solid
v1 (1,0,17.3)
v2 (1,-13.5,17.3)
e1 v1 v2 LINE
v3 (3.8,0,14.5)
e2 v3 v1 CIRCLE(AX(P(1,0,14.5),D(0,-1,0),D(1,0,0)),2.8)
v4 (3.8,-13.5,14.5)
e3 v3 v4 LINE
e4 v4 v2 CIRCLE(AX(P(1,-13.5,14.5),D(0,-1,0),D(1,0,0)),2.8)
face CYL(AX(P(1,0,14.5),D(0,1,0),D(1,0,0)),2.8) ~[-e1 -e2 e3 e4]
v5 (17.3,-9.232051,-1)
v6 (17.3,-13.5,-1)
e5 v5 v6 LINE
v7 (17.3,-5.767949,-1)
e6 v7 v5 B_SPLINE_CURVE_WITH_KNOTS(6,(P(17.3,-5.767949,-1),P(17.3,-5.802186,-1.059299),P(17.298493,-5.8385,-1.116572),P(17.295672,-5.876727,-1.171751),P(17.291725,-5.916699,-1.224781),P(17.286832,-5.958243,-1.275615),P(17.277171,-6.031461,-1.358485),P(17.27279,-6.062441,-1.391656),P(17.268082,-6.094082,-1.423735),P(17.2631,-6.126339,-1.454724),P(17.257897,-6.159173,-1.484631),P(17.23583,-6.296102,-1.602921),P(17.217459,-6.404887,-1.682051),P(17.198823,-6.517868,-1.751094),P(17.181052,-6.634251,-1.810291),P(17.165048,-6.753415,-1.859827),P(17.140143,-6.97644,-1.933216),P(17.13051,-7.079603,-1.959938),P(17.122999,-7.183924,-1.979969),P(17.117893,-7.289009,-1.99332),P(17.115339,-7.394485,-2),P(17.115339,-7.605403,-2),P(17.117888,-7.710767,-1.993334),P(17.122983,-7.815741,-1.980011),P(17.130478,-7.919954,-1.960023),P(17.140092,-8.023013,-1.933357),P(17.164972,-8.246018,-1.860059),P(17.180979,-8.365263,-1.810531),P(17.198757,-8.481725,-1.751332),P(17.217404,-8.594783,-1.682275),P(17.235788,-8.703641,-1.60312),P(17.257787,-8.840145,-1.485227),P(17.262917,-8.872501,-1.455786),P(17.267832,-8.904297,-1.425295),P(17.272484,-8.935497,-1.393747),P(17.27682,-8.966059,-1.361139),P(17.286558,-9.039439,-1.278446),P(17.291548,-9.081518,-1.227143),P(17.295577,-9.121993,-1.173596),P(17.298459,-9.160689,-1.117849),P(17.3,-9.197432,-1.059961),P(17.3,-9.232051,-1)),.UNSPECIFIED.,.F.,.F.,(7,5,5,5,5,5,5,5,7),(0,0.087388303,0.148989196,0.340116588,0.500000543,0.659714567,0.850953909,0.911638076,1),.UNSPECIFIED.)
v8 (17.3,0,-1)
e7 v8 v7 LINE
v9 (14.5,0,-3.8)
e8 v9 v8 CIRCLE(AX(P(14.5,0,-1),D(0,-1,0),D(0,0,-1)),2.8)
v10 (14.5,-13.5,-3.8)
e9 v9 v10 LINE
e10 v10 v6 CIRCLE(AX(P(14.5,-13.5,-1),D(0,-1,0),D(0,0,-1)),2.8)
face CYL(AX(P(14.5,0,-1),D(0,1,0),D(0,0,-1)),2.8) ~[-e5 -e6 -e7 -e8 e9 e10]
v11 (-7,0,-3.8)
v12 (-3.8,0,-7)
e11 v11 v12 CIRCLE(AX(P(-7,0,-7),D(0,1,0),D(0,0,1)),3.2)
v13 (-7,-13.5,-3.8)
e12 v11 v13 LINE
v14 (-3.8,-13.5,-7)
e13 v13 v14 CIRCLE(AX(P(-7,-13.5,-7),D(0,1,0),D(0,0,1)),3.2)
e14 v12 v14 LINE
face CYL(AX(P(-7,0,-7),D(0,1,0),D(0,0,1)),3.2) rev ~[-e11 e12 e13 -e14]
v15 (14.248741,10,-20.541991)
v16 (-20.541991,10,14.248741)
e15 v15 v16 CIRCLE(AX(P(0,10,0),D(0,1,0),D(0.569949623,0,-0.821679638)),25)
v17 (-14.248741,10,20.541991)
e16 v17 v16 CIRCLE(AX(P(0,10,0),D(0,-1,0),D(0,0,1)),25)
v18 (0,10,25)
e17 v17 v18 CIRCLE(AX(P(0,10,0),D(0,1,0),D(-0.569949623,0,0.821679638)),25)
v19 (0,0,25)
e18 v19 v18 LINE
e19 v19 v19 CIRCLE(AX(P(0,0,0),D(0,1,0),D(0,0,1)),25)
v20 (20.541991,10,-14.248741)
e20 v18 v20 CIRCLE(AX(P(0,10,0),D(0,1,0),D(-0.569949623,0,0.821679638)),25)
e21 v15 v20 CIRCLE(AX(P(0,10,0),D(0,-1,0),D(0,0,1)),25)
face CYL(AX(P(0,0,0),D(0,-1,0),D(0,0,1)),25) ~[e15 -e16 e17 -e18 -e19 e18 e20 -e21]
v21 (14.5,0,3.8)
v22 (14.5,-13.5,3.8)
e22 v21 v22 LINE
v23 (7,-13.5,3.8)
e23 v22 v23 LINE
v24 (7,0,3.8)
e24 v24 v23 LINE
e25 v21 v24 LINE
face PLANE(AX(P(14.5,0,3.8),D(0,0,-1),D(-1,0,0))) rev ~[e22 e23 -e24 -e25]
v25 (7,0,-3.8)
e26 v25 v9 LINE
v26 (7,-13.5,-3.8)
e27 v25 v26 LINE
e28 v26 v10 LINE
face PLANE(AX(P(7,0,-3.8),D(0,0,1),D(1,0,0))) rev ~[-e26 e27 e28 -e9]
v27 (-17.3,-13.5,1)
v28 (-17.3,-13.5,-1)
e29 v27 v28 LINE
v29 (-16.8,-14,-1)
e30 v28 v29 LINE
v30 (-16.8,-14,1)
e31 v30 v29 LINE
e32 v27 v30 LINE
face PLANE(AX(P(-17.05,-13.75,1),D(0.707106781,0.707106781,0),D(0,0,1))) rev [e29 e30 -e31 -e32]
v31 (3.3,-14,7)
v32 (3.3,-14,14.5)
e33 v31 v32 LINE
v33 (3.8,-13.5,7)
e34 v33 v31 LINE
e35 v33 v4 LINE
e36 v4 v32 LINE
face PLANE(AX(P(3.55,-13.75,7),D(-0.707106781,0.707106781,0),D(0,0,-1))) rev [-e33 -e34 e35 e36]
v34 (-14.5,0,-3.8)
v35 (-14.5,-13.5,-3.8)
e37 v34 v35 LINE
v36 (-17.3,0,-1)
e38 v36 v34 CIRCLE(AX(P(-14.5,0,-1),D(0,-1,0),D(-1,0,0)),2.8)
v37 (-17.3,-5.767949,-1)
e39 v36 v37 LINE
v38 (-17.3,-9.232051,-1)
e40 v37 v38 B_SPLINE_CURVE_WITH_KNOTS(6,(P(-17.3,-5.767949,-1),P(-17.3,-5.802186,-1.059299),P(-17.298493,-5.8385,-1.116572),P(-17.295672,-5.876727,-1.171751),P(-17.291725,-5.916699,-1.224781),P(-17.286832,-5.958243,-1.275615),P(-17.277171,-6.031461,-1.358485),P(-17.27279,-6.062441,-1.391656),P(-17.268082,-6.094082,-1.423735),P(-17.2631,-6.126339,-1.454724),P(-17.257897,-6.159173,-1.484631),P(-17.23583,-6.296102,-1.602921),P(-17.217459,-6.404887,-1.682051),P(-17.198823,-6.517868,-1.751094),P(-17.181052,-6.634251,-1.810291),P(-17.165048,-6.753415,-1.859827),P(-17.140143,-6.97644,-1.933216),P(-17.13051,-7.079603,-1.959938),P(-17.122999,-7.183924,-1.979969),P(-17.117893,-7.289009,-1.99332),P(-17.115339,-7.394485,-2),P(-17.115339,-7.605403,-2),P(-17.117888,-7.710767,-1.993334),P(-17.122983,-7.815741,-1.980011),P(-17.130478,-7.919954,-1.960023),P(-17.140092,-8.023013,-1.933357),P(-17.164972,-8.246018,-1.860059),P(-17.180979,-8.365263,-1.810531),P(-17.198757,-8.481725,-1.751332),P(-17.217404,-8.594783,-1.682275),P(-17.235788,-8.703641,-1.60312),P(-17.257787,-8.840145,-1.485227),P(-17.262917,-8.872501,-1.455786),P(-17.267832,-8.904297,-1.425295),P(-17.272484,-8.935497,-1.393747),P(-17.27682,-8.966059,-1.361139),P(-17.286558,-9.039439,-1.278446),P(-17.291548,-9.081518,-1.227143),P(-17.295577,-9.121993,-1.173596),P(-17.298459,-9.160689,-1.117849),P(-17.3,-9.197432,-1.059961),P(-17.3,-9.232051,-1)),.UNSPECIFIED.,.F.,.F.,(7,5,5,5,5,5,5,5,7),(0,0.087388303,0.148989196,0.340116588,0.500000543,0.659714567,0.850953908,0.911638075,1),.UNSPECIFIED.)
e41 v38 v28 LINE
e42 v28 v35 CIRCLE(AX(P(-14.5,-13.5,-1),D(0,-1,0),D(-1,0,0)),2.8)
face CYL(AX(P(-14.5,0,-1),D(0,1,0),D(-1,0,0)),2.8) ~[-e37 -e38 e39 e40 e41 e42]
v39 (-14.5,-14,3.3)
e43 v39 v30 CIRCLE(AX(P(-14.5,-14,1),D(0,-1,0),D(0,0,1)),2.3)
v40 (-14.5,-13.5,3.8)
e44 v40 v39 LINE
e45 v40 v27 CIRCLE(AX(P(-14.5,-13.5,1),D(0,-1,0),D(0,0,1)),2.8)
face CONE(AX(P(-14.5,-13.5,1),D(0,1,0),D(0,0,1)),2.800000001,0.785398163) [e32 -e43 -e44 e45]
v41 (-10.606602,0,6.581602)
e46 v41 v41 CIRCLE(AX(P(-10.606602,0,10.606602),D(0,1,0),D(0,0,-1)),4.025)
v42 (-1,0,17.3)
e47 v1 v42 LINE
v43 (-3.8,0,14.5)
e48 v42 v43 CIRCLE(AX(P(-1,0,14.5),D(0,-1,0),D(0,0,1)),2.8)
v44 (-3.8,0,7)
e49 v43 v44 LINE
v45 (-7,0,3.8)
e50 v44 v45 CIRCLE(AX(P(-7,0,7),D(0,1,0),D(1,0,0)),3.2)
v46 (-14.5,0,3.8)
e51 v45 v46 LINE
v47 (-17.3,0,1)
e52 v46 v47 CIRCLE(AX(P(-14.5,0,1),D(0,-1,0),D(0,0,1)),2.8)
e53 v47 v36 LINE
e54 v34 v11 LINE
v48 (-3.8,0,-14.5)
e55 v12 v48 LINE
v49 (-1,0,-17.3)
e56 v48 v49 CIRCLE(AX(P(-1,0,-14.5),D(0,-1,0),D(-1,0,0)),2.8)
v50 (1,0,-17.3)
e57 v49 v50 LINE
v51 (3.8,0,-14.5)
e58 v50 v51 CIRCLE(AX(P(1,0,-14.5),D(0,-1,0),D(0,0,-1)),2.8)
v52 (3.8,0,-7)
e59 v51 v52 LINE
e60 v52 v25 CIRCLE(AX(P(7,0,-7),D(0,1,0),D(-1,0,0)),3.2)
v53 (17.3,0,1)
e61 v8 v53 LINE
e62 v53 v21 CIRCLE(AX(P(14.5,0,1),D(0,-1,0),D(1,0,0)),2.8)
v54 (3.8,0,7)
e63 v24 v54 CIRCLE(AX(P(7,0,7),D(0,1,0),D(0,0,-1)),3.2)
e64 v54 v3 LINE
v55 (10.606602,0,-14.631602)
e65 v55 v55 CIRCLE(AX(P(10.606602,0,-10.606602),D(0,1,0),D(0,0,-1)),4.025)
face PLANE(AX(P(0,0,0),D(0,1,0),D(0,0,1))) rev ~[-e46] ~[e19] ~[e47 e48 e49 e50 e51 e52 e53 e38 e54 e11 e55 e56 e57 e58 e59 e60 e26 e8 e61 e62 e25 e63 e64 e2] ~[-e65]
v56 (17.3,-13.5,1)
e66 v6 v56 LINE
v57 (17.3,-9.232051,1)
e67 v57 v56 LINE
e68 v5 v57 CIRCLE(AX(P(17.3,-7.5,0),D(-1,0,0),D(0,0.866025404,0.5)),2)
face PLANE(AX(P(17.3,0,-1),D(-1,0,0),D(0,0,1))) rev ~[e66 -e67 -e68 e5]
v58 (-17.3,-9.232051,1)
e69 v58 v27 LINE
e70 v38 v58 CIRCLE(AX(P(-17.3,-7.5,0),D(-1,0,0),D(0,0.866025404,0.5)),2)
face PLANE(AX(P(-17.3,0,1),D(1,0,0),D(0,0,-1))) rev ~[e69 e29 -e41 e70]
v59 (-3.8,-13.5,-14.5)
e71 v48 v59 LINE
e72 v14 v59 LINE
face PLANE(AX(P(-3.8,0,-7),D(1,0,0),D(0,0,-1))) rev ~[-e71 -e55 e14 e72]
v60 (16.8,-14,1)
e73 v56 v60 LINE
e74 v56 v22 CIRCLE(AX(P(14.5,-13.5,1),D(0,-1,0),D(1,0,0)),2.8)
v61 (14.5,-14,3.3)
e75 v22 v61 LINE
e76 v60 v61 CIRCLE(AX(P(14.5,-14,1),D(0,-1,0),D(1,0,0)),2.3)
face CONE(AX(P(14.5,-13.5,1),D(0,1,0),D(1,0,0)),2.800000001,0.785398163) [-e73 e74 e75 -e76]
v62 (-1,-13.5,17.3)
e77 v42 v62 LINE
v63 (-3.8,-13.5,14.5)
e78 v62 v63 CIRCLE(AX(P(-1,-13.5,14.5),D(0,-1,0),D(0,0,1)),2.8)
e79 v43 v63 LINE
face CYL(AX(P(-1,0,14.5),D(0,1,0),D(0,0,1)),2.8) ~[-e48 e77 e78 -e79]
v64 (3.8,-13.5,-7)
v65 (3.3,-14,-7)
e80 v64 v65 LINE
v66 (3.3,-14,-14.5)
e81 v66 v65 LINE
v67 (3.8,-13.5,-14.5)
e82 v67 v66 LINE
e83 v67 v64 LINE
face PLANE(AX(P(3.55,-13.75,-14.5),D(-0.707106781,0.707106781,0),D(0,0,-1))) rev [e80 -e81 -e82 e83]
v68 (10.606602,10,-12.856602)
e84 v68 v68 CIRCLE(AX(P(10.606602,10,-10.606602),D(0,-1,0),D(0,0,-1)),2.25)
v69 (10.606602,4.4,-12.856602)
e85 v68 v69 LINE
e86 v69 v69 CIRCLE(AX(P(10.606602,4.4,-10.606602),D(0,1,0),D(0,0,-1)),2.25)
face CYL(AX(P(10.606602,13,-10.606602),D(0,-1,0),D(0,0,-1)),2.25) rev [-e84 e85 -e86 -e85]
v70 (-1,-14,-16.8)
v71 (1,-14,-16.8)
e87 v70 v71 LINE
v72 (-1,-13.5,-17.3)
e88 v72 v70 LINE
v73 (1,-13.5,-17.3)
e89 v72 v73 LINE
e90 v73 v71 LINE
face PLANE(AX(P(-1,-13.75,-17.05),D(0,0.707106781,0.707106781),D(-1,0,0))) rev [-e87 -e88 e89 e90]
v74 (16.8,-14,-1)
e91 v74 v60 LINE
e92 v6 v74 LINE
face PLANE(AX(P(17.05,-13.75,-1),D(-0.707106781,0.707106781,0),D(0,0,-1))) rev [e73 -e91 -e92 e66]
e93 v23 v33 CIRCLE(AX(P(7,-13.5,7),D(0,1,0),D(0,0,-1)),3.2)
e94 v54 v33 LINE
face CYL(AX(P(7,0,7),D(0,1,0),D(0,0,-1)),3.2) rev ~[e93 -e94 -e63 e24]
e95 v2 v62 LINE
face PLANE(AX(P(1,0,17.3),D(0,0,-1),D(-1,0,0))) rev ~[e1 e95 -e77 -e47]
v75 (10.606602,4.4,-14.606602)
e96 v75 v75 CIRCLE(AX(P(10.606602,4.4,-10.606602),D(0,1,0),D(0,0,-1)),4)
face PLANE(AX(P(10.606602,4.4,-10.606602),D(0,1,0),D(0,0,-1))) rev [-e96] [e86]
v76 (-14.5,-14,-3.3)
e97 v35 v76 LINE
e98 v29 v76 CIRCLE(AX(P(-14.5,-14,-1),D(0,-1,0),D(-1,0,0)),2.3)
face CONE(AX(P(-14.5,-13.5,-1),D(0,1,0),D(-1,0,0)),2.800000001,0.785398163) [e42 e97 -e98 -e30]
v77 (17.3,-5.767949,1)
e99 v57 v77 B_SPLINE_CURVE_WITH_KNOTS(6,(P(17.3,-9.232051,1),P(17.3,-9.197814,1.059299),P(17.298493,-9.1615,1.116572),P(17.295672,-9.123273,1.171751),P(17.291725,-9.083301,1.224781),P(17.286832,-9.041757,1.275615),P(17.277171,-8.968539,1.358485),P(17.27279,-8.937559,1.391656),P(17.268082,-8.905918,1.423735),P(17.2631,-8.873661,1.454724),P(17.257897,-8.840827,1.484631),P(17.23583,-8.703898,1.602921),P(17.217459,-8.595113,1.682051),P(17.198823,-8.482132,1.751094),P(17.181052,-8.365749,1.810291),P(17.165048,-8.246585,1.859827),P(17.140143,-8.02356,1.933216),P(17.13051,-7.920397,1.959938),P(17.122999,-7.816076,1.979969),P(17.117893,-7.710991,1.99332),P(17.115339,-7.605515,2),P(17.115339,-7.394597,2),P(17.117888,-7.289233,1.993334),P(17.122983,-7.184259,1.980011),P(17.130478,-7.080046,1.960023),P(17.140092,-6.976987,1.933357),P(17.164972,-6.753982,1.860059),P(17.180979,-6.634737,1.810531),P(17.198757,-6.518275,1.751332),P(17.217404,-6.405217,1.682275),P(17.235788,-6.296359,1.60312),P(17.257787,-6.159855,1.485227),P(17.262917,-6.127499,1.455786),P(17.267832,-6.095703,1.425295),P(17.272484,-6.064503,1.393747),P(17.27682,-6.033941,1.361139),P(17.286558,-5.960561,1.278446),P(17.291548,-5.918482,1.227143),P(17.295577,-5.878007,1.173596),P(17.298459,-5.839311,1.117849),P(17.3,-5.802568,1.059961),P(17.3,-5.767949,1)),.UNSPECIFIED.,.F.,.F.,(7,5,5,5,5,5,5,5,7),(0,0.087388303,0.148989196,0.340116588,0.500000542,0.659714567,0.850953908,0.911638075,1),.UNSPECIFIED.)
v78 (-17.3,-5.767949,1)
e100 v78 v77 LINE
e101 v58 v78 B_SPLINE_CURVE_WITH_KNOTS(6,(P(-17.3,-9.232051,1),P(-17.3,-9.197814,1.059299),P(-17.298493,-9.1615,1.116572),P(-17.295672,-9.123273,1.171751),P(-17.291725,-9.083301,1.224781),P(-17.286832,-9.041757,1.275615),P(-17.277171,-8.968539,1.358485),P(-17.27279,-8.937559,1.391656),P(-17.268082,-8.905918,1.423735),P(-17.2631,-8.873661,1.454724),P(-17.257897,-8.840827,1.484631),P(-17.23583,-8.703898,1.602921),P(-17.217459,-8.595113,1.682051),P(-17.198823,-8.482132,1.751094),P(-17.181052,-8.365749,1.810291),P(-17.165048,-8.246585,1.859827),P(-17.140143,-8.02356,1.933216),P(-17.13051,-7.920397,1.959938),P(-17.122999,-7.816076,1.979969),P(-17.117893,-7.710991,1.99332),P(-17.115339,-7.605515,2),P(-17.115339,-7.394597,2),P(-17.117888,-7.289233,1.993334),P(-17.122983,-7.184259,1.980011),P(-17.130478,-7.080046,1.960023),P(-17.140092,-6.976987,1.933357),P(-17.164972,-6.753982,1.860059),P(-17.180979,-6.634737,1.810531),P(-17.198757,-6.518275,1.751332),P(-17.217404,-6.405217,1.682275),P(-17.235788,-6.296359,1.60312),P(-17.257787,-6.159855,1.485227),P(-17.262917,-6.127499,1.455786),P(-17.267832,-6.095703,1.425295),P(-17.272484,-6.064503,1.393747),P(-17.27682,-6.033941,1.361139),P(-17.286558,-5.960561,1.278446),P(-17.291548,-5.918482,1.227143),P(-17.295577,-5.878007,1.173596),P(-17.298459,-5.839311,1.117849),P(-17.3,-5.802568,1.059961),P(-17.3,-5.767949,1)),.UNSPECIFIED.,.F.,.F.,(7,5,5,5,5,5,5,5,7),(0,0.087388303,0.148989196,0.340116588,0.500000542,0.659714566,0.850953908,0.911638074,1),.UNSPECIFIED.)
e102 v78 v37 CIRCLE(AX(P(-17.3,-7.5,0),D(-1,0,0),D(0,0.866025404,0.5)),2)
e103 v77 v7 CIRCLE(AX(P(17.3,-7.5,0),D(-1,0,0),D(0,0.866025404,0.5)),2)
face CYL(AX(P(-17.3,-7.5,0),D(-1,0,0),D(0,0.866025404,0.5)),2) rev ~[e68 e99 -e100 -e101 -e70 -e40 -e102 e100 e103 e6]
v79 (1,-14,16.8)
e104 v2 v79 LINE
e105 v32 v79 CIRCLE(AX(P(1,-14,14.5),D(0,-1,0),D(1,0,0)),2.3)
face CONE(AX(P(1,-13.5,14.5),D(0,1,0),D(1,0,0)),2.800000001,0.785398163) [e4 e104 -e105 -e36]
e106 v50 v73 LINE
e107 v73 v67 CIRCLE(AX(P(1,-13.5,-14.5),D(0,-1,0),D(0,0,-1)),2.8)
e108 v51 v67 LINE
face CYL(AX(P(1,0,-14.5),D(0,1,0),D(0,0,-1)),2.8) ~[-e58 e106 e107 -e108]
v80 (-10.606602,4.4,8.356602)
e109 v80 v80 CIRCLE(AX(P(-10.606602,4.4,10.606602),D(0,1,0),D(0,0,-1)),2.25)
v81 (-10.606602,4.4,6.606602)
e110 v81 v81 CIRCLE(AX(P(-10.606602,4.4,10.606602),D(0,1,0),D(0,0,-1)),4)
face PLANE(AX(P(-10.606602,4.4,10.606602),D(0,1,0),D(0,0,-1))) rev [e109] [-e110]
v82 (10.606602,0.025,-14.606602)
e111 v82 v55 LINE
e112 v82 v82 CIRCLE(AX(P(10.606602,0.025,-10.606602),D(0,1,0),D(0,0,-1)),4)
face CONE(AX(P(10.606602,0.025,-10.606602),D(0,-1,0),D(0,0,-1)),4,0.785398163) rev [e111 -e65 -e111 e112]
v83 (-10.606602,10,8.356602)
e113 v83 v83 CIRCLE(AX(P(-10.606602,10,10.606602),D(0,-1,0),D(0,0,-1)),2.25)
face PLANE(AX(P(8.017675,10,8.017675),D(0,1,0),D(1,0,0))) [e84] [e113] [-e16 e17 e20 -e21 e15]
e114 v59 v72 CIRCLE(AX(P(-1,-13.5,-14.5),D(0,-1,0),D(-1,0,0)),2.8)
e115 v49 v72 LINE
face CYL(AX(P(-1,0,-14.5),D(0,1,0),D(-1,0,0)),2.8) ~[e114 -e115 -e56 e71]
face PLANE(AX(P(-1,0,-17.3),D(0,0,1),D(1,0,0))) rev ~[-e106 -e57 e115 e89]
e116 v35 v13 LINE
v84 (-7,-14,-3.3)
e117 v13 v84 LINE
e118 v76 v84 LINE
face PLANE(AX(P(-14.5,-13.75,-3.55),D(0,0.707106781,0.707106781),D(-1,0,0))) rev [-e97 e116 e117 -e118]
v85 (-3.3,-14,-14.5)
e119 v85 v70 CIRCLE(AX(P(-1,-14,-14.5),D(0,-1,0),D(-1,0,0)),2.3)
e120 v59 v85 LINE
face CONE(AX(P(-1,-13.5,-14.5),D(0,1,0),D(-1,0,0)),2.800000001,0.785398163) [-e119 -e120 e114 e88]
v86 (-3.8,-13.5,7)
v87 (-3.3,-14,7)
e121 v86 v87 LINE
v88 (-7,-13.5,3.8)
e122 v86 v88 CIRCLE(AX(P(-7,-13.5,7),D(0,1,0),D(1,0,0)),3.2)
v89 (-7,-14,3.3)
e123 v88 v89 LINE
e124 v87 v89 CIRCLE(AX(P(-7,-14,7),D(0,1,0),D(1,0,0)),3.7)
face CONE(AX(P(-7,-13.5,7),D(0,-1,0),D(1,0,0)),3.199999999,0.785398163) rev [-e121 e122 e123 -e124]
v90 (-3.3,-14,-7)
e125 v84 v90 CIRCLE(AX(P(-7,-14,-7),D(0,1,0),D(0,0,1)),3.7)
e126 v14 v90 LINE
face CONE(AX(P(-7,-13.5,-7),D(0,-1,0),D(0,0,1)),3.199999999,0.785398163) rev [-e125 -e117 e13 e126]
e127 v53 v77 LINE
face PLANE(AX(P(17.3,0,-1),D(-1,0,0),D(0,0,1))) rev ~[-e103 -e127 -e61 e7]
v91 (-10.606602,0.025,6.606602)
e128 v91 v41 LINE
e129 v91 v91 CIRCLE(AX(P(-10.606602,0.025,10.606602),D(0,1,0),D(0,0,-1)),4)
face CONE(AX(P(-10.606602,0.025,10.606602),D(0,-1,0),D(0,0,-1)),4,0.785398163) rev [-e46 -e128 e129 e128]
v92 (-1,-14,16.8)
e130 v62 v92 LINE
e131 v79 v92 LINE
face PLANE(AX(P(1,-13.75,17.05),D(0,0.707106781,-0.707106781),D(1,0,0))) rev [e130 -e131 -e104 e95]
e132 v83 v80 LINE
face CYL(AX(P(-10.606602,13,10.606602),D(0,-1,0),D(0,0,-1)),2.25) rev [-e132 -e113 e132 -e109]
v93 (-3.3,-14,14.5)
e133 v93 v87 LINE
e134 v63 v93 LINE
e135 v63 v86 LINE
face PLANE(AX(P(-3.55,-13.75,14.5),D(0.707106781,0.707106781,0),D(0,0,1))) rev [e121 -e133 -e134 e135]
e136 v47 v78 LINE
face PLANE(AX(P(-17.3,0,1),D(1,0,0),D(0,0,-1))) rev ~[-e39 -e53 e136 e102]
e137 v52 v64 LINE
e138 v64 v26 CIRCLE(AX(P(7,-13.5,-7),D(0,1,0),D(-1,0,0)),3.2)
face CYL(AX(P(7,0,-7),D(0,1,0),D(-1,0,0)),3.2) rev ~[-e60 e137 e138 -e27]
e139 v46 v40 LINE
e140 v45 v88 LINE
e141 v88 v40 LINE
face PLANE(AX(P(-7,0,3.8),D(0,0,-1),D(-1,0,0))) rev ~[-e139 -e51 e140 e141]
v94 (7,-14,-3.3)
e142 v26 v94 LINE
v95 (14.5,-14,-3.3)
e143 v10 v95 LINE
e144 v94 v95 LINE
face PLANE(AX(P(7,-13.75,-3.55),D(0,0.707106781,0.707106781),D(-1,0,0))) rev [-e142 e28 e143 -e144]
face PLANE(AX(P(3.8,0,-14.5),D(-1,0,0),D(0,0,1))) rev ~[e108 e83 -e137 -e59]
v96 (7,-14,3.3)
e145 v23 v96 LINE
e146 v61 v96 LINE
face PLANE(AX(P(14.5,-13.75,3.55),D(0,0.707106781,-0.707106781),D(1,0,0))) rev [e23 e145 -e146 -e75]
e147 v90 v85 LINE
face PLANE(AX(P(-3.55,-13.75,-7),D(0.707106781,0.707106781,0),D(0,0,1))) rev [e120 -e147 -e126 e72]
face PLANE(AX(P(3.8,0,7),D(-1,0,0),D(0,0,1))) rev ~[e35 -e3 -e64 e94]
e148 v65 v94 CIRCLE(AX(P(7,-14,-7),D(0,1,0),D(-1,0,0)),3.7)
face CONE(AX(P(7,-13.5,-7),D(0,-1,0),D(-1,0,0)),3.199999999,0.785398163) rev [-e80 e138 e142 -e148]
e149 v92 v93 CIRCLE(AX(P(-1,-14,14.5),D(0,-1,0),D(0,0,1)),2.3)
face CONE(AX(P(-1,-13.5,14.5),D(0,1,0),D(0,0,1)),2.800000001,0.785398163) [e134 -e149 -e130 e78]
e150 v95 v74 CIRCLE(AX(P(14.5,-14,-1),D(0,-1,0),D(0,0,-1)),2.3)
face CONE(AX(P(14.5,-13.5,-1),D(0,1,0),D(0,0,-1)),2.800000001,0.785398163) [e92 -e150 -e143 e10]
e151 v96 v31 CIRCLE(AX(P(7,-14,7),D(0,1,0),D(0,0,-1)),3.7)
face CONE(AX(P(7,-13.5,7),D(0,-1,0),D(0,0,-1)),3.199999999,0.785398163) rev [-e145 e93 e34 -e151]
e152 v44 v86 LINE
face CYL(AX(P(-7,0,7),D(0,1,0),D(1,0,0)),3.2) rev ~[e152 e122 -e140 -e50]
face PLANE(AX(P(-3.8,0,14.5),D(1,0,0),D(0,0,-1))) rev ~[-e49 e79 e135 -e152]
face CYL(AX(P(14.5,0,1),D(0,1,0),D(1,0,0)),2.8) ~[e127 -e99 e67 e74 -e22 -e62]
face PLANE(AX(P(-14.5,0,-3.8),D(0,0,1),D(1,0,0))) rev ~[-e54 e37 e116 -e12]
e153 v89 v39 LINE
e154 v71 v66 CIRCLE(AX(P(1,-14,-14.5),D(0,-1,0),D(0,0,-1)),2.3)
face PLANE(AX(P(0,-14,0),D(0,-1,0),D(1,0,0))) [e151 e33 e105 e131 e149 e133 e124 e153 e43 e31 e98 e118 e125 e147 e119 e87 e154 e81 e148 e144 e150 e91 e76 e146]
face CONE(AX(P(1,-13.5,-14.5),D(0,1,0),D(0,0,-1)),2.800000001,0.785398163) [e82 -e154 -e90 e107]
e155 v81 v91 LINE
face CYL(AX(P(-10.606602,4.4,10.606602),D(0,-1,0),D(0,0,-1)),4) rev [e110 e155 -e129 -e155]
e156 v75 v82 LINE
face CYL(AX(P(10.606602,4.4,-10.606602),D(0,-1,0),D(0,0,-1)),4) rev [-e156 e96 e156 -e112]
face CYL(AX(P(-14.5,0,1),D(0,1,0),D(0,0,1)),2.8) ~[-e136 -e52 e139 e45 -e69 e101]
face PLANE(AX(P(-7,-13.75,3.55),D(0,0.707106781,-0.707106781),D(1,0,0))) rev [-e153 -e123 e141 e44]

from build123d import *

# Parameters (mm, degrees)
SKETCH1_R                                    = 25
BOSS_EXTRUDE1_DEPTH                          = 25
BOSS_EXTRUDE2_DEPTH                          = 14
SKETCH3_R                                    = 2
CUT_EXTRUDE1_DEPTH                           = 56.129756031
CHAMFER1_SIZE                                = 0.5
CUT_EXTRUDE3_DEPTH                           = 15
CBORE_FOR_M4_HEX_SOCKET_HEAD_CAP_SCR_2_COUNT = 2
CBORE_FOR_M4_HEX_SOCKET_HEAD_CAP_SCR_2_PITCH = 30
CUT_EXTRUDE4_START                           = -15
CUT_EXTRUDE4_DEPTH                           = 15


with BuildPart() as part:
    # Sketch1 → Boss-Extrude1 (new body)
    with BuildSketch(Plane(origin=(0, 0, 0), x_dir=(1, 0, 0), z_dir=(0, 1, 0))):
        with Locations(Location((0, 0, 0), (0, 0, 270))):
            Circle(SKETCH1_R)
    extrude(amount=BOSS_EXTRUDE1_DEPTH)

    # Sketch2 → Boss-Extrude2 (add)
    with BuildSketch(Plane.XZ):
        with BuildLine():
            Line((-17.3, 1), (-17.3, -1))
            ThreePointArc((-17.3, -1), (-16.479898987, -2.979898987), (-14.5, -3.8))
            Line((-14.5, -3.8), (-7, -3.8))
            ThreePointArc((-7, -3.8), (-4.7372583, -4.7372583), (-3.8, -7))
            Line((-3.8, -7), (-3.8, -14.5))
            ThreePointArc((-3.8, -14.5), (-2.979898987, -16.479898987), (-1, -17.3))
            Line((-1, -17.3), (1, -17.3))
            ThreePointArc((1, -17.3), (2.979898987, -16.479898987), (3.8, -14.5))
            Line((3.8, -14.5), (3.8, -7))
            ThreePointArc((3.8, -7), (4.7372583, -4.7372583), (7, -3.8))
            Line((7, -3.8), (14.5, -3.8))
            ThreePointArc((14.5, -3.8), (16.479898987, -2.979898987), (17.3, -1))
            Line((17.3, -1), (17.3, 1))
            ThreePointArc((17.3, 1), (16.479898987, 2.979898987), (14.5, 3.8))
            Line((14.5, 3.8), (7, 3.8))
            ThreePointArc((7, 3.8), (4.7372583, 4.7372583), (3.8, 7))
            Line((3.8, 7), (3.8, 14.5))
            ThreePointArc((3.8, 14.5), (2.979898987, 16.479898987), (1, 17.3))
            Line((1, 17.3), (-1, 17.3))
            ThreePointArc((-1, 17.3), (-2.979898987, 16.479898987), (-3.8, 14.5))
            Line((-3.8, 14.5), (-3.8, 7))
            ThreePointArc((-3.8, 7), (-4.7372583, 4.7372583), (-7, 3.8))
            Line((-7, 3.8), (-14.5, 3.8))
            ThreePointArc((-14.5, 3.8), (-16.479898987, 2.979898987), (-17.3, 1))
        make_face()
    extrude(amount=BOSS_EXTRUDE2_DEPTH)

    # Sketch3 → Cut-Extrude1 (cut, through all)
    with BuildSketch(Plane.ZY.offset(17.3)):
        with Locations(Location((0, -7.5, 0), (0, 0, 60))):
            Circle(SKETCH3_R)
    extrude(amount=-CUT_EXTRUDE1_DEPTH, mode=Mode.SUBTRACT)

    # Chamfer1
    chamfer1_edges = [part.edges().sort_by_distance(p)[0] for p in [
        (-16.479898987, -14, -2.979898987),
        (-10.75, -14, -3.8),
        (-4.7372583, -14, -4.7372583),
        (-3.8, -14, -10.75),
        (-2.979898987, -14, -16.479898987),
        (0, -14, -17.3),
        (2.979898987, -14, -16.479898987),
        (3.8, -14, -10.75),
        (4.7372583, -14, -4.7372583),
        (10.75, -14, -3.8),
        (16.479898987, -14, -2.979898987),
        (17.3, -14, 0),
        (16.479898987, -14, 2.979898987),
        (10.75, -14, 3.8),
        (4.7372583, -14, 4.7372583),
        (3.8, -14, 10.75),
        (2.979898987, -14, 16.479898987),
        (0, -14, 17.3),
        (-2.979898987, -14, 16.479898987),
        (-3.8, -14, 10.75),
        (-4.7372583, -14, 4.7372583),
        (-10.75, -14, 3.8),
        (-16.479898987, -14, 2.979898987),
        (-17.3, -14, 0),
    ]]
    chamfer(chamfer1_edges, length=CHAMFER1_SIZE)

    # Sketch7 → Cut-Extrude3 (cut)
    with BuildSketch(Plane(origin=(0, 25, 0), x_dir=(1, 0, 0), z_dir=(0, 1, 0))):
        with BuildLine():
            Line((-25.358862505, -19.065612153), (19.065612153, 25.358862505))
            ThreePointArc((19.065612153, 25.358862505), (25.358862505, 25.358862505), (25.358862505, 19.065612153))
            Line((25.358862505, 19.065612153), (-19.065612153, -25.358862505))
            ThreePointArc((-19.065612153, -25.358862505), (-25.358862505, -25.358862505), (-25.358862505, -19.065612153))
        make_face()
    extrude(amount=-CUT_EXTRUDE3_DEPTH, mode=Mode.SUBTRACT)

    # Sketch6 → CBORE for M4 Hex Socket Head Cap Screw1 (revolve, cut)
    with BuildSketch(Plane(origin=(10.606601718, 0, -10.606601718), x_dir=(0, 0, -1), z_dir=(1, 0, 0))):
        Polygon((0, 0), (0, 14.351936393), (2.25, 13), (2.25, 4.4), (4, 4.4), (4, 0.025), (4.025, 0), align=None)
    cbore_for_m4_hex_socket_head_cap_screw1 = revolve(axis=Axis((10.606601718, -6.35, -10.606601718), (0, 1, 0)), mode=Mode.SUBTRACT)

    # CBORE for M4 Hex Socket Head Cap Scr 2: CBORE for M4 Hex Socket Head Cap Screw1 ×2
    with Locations(*[Vector(-0.707106781186549, 0, 0.7071067811865461) * (i * CBORE_FOR_M4_HEX_SOCKET_HEAD_CAP_SCR_2_PITCH) for i in range(1, CBORE_FOR_M4_HEX_SOCKET_HEAD_CAP_SCR_2_COUNT)]):
        add(cbore_for_m4_hex_socket_head_cap_screw1, mode=Mode.SUBTRACT)

    # Sketch8 → Cut-Extrude4 (cut)
    with BuildSketch(Plane(origin=(0, 25, 0), x_dir=(1, 0, 0), z_dir=(0, 1, 0)).offset(CUT_EXTRUDE4_START)):
        with BuildLine():
            Line((20.541990938, 14.248740586), (-14.248740586, -20.541990938))
            ThreePointArc((-14.248740586, -20.541990938), (17.67766953, -17.67766953), (20.541990938, 14.248740586))
        make_face()
        with BuildLine():
            Line((-20.541990938, -14.248740586), (14.248740586, 20.541990938))
            ThreePointArc((14.248740586, 20.541990938), (-17.67766953, 17.67766953), (-20.541990938, -14.248740586))
        make_face()
    extrude(amount=CUT_EXTRUDE4_DEPTH, mode=Mode.SUBTRACT)


solid = part.part
